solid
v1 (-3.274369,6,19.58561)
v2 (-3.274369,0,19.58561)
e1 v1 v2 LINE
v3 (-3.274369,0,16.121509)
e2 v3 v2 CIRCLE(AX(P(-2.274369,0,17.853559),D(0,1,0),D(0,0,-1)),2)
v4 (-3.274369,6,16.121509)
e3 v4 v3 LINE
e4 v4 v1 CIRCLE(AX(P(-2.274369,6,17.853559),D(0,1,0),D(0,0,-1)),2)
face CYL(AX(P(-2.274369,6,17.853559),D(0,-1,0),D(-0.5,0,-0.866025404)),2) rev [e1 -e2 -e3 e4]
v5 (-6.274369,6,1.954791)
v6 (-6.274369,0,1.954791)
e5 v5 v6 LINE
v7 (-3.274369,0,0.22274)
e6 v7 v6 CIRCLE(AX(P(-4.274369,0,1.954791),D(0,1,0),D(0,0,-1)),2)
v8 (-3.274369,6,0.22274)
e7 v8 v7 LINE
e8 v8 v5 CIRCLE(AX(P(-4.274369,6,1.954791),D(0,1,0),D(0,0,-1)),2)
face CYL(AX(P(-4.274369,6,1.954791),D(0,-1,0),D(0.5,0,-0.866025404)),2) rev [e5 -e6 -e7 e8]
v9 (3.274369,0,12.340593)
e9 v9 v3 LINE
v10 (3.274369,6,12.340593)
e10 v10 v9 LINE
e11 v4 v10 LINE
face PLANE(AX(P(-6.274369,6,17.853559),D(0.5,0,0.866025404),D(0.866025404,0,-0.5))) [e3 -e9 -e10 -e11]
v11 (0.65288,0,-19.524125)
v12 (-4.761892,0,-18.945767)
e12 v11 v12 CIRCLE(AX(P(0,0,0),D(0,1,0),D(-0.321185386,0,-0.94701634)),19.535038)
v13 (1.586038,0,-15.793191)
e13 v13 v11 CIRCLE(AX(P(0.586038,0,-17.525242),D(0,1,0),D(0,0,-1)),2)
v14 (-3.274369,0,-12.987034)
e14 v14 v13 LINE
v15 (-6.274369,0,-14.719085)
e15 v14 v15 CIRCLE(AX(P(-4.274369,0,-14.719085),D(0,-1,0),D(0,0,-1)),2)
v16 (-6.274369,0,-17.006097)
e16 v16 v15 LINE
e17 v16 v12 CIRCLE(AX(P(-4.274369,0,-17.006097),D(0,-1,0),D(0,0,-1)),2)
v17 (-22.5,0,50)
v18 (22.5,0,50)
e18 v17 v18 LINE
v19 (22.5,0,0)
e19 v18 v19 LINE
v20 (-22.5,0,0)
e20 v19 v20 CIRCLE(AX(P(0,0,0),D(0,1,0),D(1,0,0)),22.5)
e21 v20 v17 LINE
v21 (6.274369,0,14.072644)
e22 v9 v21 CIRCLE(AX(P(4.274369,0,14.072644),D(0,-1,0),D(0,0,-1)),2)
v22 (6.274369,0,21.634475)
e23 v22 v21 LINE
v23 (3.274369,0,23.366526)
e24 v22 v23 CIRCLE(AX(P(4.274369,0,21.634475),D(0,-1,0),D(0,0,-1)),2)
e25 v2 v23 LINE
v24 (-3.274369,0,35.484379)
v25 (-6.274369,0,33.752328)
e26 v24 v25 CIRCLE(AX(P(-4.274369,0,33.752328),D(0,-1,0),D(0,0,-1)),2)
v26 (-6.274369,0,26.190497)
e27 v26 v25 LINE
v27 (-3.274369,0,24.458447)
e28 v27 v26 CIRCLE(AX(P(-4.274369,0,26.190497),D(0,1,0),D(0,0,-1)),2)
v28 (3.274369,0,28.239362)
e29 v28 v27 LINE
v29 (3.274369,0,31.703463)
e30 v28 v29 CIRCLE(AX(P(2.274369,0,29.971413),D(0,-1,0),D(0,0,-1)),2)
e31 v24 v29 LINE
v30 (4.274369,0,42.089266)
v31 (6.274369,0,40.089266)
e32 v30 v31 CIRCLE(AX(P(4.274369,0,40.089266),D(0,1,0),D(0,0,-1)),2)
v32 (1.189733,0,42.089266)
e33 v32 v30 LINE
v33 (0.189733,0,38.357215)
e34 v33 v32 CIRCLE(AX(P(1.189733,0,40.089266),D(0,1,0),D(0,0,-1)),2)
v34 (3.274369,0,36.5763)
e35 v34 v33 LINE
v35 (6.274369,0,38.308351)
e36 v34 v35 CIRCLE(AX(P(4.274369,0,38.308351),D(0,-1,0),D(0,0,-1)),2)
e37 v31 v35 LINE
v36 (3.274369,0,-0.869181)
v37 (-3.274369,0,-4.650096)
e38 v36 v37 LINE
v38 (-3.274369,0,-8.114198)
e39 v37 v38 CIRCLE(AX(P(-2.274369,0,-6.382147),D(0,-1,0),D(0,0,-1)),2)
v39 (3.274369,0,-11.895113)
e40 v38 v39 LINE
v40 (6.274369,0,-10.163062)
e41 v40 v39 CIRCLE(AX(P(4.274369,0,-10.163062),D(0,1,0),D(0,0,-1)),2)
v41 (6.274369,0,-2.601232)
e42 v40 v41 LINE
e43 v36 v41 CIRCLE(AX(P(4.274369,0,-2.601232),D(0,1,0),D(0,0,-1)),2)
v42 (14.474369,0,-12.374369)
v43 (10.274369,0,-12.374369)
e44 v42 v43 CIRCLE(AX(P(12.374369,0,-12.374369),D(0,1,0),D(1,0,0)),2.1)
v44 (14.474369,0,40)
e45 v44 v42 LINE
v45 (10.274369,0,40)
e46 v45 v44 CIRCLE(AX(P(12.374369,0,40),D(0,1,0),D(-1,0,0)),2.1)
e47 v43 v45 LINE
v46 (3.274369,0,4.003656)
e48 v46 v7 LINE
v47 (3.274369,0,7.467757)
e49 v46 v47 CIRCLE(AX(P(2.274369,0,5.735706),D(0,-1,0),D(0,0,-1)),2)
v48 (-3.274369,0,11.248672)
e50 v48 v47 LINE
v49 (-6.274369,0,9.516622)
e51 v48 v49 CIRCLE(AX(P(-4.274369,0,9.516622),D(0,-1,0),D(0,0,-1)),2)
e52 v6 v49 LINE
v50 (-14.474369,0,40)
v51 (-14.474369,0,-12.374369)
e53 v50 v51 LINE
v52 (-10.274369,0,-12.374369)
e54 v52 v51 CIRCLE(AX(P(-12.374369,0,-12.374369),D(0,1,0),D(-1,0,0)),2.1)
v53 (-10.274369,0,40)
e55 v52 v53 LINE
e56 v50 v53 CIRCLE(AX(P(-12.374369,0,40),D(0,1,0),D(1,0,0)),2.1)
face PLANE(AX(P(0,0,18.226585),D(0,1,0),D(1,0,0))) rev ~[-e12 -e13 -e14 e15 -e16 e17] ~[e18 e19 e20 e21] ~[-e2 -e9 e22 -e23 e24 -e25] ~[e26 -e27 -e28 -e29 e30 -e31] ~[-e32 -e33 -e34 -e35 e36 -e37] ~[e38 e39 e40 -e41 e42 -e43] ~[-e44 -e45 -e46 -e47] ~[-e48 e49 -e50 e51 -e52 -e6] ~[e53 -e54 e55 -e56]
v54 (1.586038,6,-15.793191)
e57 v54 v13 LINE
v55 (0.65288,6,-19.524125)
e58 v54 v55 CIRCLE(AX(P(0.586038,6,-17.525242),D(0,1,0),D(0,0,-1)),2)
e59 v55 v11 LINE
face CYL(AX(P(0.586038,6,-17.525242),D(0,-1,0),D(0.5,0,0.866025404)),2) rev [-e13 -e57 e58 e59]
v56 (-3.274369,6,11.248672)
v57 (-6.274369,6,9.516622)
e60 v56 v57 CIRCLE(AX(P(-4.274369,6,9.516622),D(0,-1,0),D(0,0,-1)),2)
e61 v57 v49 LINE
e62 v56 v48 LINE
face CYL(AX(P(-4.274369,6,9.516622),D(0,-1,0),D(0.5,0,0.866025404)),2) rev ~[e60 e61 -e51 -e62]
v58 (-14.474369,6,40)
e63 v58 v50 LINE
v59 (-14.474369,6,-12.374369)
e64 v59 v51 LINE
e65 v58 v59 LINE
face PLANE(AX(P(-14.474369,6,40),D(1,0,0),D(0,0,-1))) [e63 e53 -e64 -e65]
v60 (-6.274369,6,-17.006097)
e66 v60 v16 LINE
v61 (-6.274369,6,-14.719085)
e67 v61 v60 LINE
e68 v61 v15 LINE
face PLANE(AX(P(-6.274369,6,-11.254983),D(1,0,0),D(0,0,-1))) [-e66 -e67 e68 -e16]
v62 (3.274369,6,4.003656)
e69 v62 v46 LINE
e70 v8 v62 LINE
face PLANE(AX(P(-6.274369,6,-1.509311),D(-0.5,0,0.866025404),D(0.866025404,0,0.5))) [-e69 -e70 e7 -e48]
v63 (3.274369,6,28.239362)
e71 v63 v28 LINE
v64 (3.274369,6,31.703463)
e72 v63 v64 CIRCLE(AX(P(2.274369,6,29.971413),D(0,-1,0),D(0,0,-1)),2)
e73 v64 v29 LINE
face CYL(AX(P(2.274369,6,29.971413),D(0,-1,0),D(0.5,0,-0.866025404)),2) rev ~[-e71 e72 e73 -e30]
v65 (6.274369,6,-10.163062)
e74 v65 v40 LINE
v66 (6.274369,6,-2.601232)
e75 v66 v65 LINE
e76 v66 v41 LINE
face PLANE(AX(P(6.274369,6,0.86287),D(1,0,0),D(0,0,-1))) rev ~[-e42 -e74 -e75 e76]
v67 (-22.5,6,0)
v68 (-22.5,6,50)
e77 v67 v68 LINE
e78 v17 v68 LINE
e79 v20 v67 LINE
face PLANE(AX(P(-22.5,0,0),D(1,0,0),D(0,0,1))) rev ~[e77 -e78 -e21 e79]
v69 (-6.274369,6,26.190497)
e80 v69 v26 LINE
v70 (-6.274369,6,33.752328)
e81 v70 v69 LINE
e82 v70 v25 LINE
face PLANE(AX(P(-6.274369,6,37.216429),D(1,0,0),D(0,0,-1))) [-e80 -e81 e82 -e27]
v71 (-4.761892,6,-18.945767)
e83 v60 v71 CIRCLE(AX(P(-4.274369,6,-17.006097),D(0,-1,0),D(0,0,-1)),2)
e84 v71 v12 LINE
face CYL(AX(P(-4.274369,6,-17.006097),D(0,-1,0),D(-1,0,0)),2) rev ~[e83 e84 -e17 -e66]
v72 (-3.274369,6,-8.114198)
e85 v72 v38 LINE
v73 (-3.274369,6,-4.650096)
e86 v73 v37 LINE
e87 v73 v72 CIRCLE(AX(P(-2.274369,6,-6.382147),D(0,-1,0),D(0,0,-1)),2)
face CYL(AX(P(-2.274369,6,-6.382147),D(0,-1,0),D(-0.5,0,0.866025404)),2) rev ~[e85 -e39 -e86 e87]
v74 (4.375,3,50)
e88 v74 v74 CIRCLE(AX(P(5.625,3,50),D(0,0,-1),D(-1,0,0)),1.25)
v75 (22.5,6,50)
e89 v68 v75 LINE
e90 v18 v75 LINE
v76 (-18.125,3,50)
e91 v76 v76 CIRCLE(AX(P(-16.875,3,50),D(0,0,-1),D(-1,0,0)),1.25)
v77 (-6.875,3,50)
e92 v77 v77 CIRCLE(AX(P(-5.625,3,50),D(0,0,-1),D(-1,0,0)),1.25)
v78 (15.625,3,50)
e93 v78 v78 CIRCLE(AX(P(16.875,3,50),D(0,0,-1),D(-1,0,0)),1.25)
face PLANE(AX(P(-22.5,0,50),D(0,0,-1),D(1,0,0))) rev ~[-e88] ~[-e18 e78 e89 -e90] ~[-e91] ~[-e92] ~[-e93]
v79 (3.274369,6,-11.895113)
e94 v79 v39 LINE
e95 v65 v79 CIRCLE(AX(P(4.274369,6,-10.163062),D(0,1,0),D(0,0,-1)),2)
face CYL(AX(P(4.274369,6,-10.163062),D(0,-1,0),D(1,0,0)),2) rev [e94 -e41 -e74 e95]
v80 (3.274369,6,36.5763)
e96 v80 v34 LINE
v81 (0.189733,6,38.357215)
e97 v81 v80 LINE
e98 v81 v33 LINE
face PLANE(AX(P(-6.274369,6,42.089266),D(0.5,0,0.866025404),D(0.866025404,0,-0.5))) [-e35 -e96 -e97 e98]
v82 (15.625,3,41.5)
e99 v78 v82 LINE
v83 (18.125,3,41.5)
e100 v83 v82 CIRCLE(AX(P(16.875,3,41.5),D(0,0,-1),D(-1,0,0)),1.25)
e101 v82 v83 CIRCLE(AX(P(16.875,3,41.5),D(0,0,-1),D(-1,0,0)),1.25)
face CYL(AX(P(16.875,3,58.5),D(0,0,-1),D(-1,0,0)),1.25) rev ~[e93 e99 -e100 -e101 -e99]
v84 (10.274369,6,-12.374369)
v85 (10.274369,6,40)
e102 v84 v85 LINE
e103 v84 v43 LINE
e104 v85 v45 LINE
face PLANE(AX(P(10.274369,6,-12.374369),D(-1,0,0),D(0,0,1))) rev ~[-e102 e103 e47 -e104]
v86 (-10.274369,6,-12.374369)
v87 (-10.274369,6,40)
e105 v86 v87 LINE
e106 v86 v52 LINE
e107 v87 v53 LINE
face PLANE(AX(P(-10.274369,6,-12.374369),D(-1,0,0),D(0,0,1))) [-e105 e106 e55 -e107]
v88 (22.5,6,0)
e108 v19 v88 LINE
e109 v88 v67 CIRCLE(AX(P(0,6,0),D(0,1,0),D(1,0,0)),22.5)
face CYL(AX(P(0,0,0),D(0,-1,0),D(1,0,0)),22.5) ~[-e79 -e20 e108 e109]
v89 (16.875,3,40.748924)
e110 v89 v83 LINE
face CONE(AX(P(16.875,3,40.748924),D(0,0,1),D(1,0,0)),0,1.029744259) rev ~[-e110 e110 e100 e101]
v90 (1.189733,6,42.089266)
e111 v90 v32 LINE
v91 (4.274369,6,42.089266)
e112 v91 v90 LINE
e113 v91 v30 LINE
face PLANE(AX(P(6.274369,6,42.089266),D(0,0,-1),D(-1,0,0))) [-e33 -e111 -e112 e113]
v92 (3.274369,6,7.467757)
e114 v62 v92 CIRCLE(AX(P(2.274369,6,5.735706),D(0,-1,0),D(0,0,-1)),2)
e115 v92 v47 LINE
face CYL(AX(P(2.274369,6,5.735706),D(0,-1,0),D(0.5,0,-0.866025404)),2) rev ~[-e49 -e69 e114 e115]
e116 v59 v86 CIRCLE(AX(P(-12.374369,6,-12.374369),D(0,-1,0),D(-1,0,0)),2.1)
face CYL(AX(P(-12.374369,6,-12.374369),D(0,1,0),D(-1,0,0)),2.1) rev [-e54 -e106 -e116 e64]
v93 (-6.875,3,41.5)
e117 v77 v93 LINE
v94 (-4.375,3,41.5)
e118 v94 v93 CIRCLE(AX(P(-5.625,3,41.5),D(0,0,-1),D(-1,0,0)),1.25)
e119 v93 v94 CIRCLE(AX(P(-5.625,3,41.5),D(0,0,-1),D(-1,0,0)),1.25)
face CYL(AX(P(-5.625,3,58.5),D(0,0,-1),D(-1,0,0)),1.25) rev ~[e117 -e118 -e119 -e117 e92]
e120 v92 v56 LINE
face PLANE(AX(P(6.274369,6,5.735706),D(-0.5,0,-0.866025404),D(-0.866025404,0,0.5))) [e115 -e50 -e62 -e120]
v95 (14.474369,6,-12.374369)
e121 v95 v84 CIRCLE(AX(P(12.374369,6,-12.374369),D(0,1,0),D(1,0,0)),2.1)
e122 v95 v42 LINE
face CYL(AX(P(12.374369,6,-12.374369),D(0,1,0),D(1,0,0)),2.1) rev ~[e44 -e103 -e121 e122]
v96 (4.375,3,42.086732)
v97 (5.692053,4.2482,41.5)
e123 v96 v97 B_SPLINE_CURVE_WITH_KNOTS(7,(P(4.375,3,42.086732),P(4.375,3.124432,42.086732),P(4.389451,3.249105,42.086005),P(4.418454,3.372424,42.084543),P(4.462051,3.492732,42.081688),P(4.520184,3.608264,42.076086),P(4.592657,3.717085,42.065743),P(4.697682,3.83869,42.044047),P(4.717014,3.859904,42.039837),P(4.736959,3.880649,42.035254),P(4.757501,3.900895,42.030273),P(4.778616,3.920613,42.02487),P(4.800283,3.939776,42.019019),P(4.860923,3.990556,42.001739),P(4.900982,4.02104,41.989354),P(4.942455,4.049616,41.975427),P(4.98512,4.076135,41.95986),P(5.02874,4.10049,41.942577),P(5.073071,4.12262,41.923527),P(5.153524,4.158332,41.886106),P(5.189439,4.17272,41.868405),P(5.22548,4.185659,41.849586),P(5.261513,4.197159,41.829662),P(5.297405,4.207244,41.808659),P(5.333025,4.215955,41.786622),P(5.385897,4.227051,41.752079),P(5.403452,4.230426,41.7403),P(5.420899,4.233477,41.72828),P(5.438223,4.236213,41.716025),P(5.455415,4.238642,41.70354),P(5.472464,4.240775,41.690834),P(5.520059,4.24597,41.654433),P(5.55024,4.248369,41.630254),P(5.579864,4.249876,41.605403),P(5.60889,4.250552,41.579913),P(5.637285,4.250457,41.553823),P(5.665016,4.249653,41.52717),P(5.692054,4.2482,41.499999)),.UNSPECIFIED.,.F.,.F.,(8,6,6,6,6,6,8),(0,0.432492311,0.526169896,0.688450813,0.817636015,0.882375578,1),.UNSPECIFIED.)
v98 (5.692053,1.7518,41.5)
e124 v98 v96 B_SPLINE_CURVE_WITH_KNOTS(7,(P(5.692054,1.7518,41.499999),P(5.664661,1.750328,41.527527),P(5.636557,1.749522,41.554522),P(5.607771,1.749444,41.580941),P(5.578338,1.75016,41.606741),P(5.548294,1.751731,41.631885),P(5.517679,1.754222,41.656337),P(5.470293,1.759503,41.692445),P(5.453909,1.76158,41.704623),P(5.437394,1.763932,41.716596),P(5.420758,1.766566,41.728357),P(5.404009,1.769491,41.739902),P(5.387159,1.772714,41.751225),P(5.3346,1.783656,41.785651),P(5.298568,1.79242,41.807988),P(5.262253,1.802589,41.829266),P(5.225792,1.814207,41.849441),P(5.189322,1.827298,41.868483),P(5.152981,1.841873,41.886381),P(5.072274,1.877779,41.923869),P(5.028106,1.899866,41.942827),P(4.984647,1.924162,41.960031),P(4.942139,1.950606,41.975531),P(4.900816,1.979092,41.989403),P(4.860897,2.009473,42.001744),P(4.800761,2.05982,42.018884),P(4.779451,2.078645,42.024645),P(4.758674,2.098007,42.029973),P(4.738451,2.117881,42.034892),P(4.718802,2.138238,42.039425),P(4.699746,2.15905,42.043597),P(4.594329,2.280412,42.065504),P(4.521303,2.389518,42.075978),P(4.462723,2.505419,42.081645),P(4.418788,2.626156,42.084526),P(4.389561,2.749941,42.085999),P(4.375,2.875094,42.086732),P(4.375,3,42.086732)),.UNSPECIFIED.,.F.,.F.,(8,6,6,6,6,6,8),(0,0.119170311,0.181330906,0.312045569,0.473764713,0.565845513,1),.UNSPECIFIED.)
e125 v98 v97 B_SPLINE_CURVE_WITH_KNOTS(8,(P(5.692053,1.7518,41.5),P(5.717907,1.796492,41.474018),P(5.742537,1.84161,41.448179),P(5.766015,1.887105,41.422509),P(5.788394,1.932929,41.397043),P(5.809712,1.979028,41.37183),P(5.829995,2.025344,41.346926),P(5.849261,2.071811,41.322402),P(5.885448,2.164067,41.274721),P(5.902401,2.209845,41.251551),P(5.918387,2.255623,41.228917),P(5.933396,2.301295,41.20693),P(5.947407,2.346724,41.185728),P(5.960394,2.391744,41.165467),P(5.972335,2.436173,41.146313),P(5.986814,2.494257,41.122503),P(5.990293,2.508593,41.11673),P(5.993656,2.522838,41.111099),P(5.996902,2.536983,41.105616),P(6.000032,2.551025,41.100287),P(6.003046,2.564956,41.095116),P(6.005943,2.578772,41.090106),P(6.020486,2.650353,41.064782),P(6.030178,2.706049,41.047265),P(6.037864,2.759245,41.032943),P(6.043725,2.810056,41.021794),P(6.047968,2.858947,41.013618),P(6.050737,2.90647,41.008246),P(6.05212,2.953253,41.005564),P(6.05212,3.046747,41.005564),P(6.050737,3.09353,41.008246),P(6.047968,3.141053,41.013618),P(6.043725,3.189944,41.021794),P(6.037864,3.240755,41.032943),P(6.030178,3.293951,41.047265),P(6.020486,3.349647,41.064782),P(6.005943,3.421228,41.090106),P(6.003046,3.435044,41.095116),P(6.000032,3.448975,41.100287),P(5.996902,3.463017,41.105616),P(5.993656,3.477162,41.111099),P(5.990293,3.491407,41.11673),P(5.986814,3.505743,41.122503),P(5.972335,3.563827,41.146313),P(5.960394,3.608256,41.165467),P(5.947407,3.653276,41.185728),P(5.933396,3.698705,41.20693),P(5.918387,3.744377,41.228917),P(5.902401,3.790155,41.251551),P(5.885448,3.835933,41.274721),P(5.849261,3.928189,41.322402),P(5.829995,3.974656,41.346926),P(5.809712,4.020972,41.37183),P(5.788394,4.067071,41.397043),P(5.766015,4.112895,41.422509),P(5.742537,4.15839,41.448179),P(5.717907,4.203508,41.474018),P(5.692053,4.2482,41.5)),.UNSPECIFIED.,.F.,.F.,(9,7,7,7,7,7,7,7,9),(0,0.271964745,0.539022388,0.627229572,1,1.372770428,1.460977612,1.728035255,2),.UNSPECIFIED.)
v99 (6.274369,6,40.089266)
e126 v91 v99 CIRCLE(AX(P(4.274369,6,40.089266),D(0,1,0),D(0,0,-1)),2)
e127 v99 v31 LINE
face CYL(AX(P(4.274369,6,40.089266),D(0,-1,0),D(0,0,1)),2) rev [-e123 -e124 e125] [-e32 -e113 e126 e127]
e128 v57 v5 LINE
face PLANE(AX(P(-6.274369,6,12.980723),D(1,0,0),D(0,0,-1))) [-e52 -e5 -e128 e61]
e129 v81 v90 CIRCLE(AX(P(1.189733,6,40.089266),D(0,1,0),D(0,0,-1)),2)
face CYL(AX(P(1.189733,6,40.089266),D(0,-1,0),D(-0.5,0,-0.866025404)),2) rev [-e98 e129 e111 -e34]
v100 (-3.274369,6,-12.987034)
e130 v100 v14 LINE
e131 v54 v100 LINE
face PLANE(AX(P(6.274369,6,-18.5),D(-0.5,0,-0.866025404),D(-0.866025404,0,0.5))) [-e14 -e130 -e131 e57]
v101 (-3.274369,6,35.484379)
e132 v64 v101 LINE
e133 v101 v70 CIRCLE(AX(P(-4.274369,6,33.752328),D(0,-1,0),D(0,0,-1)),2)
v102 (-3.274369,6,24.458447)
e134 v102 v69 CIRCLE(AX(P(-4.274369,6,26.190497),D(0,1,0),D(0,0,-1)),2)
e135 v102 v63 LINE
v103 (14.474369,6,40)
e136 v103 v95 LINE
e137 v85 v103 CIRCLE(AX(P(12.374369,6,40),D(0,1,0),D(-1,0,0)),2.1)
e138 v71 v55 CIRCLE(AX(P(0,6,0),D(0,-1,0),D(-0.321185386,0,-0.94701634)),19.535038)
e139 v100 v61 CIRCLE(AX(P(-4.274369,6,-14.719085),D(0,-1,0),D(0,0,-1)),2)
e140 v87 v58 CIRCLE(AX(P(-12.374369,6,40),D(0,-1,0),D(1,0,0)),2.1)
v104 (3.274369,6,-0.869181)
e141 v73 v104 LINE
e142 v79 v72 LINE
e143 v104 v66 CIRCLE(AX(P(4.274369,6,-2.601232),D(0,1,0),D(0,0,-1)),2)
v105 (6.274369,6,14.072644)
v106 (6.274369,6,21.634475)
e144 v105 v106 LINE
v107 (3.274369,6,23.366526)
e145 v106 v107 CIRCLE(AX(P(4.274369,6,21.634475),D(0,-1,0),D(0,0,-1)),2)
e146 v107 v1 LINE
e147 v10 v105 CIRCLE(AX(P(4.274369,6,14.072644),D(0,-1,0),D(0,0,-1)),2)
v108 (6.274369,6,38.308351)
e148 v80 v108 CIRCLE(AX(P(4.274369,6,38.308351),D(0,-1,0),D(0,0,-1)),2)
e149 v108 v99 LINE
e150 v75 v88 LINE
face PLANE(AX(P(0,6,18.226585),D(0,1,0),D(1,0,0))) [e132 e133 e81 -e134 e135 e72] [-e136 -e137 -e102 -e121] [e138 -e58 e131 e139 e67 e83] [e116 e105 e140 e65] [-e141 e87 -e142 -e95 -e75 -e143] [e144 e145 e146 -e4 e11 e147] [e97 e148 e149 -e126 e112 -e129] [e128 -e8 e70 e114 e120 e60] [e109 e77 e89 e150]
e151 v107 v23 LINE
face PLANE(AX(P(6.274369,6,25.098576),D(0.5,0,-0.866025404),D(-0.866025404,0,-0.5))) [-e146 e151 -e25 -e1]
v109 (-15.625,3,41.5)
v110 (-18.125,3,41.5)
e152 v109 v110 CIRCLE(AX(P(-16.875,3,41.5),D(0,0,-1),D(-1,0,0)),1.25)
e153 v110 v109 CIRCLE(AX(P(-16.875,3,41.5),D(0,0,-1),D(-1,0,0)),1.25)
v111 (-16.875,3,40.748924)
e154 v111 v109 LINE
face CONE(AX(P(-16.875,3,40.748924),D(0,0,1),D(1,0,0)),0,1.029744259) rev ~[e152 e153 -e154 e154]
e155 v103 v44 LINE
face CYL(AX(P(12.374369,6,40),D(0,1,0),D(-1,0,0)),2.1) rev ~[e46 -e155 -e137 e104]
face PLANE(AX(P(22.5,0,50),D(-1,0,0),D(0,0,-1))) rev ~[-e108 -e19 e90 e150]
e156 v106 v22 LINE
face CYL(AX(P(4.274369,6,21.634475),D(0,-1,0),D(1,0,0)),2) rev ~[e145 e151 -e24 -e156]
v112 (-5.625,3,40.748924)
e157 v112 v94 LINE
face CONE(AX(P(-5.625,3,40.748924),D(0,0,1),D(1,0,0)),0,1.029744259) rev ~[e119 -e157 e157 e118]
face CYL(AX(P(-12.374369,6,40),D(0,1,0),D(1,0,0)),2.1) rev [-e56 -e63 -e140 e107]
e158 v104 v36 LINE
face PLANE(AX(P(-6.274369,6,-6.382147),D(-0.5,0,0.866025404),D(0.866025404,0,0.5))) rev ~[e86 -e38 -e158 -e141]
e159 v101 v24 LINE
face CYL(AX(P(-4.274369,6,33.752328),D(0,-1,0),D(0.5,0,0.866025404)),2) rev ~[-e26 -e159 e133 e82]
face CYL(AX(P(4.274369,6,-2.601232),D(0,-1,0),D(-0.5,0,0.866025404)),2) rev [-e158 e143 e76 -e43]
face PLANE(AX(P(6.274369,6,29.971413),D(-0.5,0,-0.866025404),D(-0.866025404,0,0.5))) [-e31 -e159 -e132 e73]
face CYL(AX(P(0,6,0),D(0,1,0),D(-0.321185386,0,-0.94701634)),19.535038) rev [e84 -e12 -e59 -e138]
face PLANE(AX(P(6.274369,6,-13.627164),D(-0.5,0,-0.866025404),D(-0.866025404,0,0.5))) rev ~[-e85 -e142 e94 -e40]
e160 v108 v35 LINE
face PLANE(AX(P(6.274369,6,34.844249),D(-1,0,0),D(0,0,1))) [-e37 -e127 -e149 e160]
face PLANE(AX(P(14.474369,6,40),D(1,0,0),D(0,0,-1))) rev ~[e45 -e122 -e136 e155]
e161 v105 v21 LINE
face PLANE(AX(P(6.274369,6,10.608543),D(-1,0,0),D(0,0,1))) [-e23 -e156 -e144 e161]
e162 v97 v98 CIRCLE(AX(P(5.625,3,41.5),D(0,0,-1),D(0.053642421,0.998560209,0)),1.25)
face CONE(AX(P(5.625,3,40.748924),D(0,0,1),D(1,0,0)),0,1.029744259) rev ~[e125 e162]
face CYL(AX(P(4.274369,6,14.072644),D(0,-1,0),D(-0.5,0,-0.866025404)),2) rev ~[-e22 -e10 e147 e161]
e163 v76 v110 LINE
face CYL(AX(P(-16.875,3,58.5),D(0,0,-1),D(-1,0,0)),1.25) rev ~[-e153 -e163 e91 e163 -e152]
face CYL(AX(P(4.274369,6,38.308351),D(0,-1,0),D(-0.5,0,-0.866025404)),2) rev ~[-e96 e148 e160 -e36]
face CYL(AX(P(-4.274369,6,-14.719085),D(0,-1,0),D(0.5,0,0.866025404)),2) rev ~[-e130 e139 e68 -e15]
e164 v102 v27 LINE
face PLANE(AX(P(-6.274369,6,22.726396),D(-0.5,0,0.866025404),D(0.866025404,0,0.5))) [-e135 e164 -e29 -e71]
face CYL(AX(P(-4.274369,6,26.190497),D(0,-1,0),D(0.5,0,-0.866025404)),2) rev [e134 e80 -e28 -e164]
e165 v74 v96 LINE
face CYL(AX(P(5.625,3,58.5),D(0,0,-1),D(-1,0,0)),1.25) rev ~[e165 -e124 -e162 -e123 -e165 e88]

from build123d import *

# Parameters (mm, degrees)
EXTRUDE_1_DEPTH     = 6
CUT_EXTRUDE_1_DEPTH = 56.156595254
CUT_EXTRUDE_2_REACH = 57.157
FILLET_18_R         = 2
M3X0_51_D           = 2.5
M3X0_51_DEPTH       = 8.5
M3X0_51_TIP         = 0.751075774


with BuildPart() as part:
    # Эскиз1 → Бобышка-Вытянуть1 (new body)
    with BuildSketch(Plane(origin=(0, 0, 0), x_dir=(1, 0, 0), z_dir=(0, 1, 0))):
        with BuildLine():
            Line((-22.5, 0), (-22.5, -50))
            Line((-22.5, -50), (22.5, -50))
            Line((22.5, -50), (22.5, 0))
            ThreePointArc((22.5, 0), (0, 22.5), (-22.5, 0))
        make_face()
    extrude(amount=EXTRUDE_1_DEPTH)

    # Эскиз2 → Вырез-Вытянуть1 (cut, through all)
    with BuildSketch(Plane(origin=(0, 6, 0), x_dir=(1, 0, 0), z_dir=(0, 1, 0))):
        with BuildLine():
            Line((-10.274368671, 12.374368671), (-10.274368671, -40))
            ThreePointArc((-10.274368671, -40), (-12.374368671, -42.1), (-14.474368671, -40))
            Line((-14.474368671, -40), (-14.474368671, 12.374368671))
            ThreePointArc((-14.474368671, 12.374368671), (-12.374368671, 14.474368671), (-10.274368671, 12.374368671))
        make_face()
        with BuildLine():
            Line((10.274368671, 12.374368671), (10.274368671, -40))
            ThreePointArc((10.274368671, -40), (12.374368671, -42.1), (14.474368671, -40))
            Line((14.474368671, -40), (14.474368671, 12.374368671))
            ThreePointArc((14.474368671, 12.374368671), (12.374368671, 14.474368671), (10.274368671, 12.374368671))
        make_face()
    extrude(amount=-CUT_EXTRUDE_1_DEPTH, mode=Mode.SUBTRACT)

    # Эскиз11 → Вырез-Вытянуть2 (cut, up to next)
    with BuildSketch(Plane(origin=(0, 6, 0), x_dir=(1, 0, 0), z_dir=(0, 1, 0)), mode=Mode.PRIVATE) as cut_extrude_2_sk1:
        with BuildLine():
            Line((6.274368671, 18.5), (-6.274368671, 11.254983118))
            Line((-6.274368671, 11.254983118), (-6.274368671, 18.5))
            ThreePointArc((-6.274368671, 18.5), (0, 19.535037809), (6.274368671, 18.5))
        make_face()
    cut_extrude_2_tool1 = extrude(cut_extrude_2_sk1.sketch, amount=-CUT_EXTRUDE_2_REACH, mode=Mode.PRIVATE) & part.part
    # Эскиз11 → Вырез-Вытянуть2 (cut, up to next)
    with BuildSketch(Plane(origin=(0, 6, 0), x_dir=(1, 0, 0), z_dir=(0, 1, 0)), mode=Mode.PRIVATE) as cut_extrude_2_sk2:
        Polygon((6.274368671, 13.627163728), (-6.274368671, 6.382146846), (6.274368671, -0.862870036), align=None)
    cut_extrude_2_tool2 = extrude(cut_extrude_2_sk2.sketch, amount=-CUT_EXTRUDE_2_REACH, mode=Mode.PRIVATE) & part.part
    # Эскиз11 → Вырез-Вытянуть2 (cut, up to next)
    with BuildSketch(Plane(origin=(0, 6, 0), x_dir=(1, 0, 0), z_dir=(0, 1, 0)), mode=Mode.PRIVATE) as cut_extrude_2_sk3:
        Polygon((-6.274368671, 1.509310574), (6.274368671, -5.735706308), (-6.274368671, -12.98072319), align=None)
    cut_extrude_2_tool3 = extrude(cut_extrude_2_sk3.sketch, amount=-CUT_EXTRUDE_2_REACH, mode=Mode.PRIVATE) & part.part
    # Эскиз11 → Вырез-Вытянуть2 (cut, up to next)
    with BuildSketch(Plane(origin=(0, 6, 0), x_dir=(1, 0, 0), z_dir=(0, 1, 0)), mode=Mode.PRIVATE) as cut_extrude_2_sk4:
        Polygon((-6.274368671, -17.853559462), (6.274368671, -10.60854258), (6.274368671, -25.098576344), align=None)
    cut_extrude_2_tool4 = extrude(cut_extrude_2_sk4.sketch, amount=-CUT_EXTRUDE_2_REACH, mode=Mode.PRIVATE) & part.part
    # Эскиз11 → Вырез-Вытянуть2 (cut, up to next)
    with BuildSketch(Plane(origin=(0, 6, 0), x_dir=(1, 0, 0), z_dir=(0, 1, 0)), mode=Mode.PRIVATE) as cut_extrude_2_sk5:
        Polygon((-6.274368671, -22.726395734), (6.274368671, -29.971412616), (-6.274368671, -37.216429498), align=None)
    cut_extrude_2_tool5 = extrude(cut_extrude_2_sk5.sketch, amount=-CUT_EXTRUDE_2_REACH, mode=Mode.PRIVATE) & part.part
    # Эскиз11 → Вырез-Вытянуть2 (cut, up to next)
    with BuildSketch(Plane(origin=(0, 6, 0), x_dir=(1, 0, 0), z_dir=(0, 1, 0)), mode=Mode.PRIVATE) as cut_extrude_2_sk6:
        Polygon((-6.274368671, -42.08926577), (6.274368671, -34.844248888), (6.274368671, -42.08926577), align=None)
    cut_extrude_2_tool6 = extrude(cut_extrude_2_sk6.sketch, amount=-CUT_EXTRUDE_2_REACH, mode=Mode.PRIVATE) & part.part
    add(cut_extrude_2_tool1.solids().sort_by_distance((-1.755291, 6, -16.539864))[0], mode=Mode.SUBTRACT)
    add(cut_extrude_2_tool2.solids().sort_by_distance((2.091456, 6, -6.382147))[0], mode=Mode.SUBTRACT)
    add(cut_extrude_2_tool3.solids().sort_by_distance((-2.091456, 6, 5.735706))[0], mode=Mode.SUBTRACT)
    add(cut_extrude_2_tool4.solids().sort_by_distance((2.091456, 6, 17.853559))[0], mode=Mode.SUBTRACT)
    add(cut_extrude_2_tool5.solids().sort_by_distance((-2.091456, 6, 29.971413))[0], mode=Mode.SUBTRACT)
    add(cut_extrude_2_tool6.solids().sort_by_distance((2.091456, 6, 39.67426))[0], mode=Mode.SUBTRACT)

    # Скругление18
    fillet_18_edges = [part.edges().sort_by_distance(p)[0] for p in [
        (6.274368671, 3, -13.627163728),
        (6.274368671, 3, 0.862870036),
        (-6.274368671, 3, -6.382146846),
        (-6.274368671, 3, -18.5),
        (6.274368671, 3, -18.5),
        (-6.274368671, 3, -11.254983118),
        (-6.274368671, 3, 12.98072319),
        (-6.274368671, 3, -1.509310574),
        (6.274368671, 3, 5.735706308),
        (6.274368671, 3, 25.098576344),
        (-6.274368671, 3, 17.853559462),
        (6.274368671, 3, 10.60854258),
        (-6.274368671, 3, 37.216429498),
        (-6.274368671, 3, 22.726395734),
        (6.274368671, 3, 29.971412616),
        (6.274368671, 3, 42.08926577),
        (-6.274368671, 3, 42.08926577),
        (6.274368671, 3, 34.844248888),
    ]]
    fillet(fillet_18_edges, radius=FILLET_18_R)

    # Отверстие обработанное метчиком M3x0.51
    with Locations(Plane.XY.offset(50)):
        with Locations((-16.875, 3), (-5.625, 3), (5.625, 3), (16.875, 3)):
            Hole(M3X0_51_D / 2, depth=M3X0_51_DEPTH)
            with Locations((0, 0, -(M3X0_51_DEPTH + M3X0_51_TIP / 2))):  # 118° drill point
                Cone(0, M3X0_51_D / 2, M3X0_51_TIP, mode=Mode.SUBTRACT)


solid = part.part
